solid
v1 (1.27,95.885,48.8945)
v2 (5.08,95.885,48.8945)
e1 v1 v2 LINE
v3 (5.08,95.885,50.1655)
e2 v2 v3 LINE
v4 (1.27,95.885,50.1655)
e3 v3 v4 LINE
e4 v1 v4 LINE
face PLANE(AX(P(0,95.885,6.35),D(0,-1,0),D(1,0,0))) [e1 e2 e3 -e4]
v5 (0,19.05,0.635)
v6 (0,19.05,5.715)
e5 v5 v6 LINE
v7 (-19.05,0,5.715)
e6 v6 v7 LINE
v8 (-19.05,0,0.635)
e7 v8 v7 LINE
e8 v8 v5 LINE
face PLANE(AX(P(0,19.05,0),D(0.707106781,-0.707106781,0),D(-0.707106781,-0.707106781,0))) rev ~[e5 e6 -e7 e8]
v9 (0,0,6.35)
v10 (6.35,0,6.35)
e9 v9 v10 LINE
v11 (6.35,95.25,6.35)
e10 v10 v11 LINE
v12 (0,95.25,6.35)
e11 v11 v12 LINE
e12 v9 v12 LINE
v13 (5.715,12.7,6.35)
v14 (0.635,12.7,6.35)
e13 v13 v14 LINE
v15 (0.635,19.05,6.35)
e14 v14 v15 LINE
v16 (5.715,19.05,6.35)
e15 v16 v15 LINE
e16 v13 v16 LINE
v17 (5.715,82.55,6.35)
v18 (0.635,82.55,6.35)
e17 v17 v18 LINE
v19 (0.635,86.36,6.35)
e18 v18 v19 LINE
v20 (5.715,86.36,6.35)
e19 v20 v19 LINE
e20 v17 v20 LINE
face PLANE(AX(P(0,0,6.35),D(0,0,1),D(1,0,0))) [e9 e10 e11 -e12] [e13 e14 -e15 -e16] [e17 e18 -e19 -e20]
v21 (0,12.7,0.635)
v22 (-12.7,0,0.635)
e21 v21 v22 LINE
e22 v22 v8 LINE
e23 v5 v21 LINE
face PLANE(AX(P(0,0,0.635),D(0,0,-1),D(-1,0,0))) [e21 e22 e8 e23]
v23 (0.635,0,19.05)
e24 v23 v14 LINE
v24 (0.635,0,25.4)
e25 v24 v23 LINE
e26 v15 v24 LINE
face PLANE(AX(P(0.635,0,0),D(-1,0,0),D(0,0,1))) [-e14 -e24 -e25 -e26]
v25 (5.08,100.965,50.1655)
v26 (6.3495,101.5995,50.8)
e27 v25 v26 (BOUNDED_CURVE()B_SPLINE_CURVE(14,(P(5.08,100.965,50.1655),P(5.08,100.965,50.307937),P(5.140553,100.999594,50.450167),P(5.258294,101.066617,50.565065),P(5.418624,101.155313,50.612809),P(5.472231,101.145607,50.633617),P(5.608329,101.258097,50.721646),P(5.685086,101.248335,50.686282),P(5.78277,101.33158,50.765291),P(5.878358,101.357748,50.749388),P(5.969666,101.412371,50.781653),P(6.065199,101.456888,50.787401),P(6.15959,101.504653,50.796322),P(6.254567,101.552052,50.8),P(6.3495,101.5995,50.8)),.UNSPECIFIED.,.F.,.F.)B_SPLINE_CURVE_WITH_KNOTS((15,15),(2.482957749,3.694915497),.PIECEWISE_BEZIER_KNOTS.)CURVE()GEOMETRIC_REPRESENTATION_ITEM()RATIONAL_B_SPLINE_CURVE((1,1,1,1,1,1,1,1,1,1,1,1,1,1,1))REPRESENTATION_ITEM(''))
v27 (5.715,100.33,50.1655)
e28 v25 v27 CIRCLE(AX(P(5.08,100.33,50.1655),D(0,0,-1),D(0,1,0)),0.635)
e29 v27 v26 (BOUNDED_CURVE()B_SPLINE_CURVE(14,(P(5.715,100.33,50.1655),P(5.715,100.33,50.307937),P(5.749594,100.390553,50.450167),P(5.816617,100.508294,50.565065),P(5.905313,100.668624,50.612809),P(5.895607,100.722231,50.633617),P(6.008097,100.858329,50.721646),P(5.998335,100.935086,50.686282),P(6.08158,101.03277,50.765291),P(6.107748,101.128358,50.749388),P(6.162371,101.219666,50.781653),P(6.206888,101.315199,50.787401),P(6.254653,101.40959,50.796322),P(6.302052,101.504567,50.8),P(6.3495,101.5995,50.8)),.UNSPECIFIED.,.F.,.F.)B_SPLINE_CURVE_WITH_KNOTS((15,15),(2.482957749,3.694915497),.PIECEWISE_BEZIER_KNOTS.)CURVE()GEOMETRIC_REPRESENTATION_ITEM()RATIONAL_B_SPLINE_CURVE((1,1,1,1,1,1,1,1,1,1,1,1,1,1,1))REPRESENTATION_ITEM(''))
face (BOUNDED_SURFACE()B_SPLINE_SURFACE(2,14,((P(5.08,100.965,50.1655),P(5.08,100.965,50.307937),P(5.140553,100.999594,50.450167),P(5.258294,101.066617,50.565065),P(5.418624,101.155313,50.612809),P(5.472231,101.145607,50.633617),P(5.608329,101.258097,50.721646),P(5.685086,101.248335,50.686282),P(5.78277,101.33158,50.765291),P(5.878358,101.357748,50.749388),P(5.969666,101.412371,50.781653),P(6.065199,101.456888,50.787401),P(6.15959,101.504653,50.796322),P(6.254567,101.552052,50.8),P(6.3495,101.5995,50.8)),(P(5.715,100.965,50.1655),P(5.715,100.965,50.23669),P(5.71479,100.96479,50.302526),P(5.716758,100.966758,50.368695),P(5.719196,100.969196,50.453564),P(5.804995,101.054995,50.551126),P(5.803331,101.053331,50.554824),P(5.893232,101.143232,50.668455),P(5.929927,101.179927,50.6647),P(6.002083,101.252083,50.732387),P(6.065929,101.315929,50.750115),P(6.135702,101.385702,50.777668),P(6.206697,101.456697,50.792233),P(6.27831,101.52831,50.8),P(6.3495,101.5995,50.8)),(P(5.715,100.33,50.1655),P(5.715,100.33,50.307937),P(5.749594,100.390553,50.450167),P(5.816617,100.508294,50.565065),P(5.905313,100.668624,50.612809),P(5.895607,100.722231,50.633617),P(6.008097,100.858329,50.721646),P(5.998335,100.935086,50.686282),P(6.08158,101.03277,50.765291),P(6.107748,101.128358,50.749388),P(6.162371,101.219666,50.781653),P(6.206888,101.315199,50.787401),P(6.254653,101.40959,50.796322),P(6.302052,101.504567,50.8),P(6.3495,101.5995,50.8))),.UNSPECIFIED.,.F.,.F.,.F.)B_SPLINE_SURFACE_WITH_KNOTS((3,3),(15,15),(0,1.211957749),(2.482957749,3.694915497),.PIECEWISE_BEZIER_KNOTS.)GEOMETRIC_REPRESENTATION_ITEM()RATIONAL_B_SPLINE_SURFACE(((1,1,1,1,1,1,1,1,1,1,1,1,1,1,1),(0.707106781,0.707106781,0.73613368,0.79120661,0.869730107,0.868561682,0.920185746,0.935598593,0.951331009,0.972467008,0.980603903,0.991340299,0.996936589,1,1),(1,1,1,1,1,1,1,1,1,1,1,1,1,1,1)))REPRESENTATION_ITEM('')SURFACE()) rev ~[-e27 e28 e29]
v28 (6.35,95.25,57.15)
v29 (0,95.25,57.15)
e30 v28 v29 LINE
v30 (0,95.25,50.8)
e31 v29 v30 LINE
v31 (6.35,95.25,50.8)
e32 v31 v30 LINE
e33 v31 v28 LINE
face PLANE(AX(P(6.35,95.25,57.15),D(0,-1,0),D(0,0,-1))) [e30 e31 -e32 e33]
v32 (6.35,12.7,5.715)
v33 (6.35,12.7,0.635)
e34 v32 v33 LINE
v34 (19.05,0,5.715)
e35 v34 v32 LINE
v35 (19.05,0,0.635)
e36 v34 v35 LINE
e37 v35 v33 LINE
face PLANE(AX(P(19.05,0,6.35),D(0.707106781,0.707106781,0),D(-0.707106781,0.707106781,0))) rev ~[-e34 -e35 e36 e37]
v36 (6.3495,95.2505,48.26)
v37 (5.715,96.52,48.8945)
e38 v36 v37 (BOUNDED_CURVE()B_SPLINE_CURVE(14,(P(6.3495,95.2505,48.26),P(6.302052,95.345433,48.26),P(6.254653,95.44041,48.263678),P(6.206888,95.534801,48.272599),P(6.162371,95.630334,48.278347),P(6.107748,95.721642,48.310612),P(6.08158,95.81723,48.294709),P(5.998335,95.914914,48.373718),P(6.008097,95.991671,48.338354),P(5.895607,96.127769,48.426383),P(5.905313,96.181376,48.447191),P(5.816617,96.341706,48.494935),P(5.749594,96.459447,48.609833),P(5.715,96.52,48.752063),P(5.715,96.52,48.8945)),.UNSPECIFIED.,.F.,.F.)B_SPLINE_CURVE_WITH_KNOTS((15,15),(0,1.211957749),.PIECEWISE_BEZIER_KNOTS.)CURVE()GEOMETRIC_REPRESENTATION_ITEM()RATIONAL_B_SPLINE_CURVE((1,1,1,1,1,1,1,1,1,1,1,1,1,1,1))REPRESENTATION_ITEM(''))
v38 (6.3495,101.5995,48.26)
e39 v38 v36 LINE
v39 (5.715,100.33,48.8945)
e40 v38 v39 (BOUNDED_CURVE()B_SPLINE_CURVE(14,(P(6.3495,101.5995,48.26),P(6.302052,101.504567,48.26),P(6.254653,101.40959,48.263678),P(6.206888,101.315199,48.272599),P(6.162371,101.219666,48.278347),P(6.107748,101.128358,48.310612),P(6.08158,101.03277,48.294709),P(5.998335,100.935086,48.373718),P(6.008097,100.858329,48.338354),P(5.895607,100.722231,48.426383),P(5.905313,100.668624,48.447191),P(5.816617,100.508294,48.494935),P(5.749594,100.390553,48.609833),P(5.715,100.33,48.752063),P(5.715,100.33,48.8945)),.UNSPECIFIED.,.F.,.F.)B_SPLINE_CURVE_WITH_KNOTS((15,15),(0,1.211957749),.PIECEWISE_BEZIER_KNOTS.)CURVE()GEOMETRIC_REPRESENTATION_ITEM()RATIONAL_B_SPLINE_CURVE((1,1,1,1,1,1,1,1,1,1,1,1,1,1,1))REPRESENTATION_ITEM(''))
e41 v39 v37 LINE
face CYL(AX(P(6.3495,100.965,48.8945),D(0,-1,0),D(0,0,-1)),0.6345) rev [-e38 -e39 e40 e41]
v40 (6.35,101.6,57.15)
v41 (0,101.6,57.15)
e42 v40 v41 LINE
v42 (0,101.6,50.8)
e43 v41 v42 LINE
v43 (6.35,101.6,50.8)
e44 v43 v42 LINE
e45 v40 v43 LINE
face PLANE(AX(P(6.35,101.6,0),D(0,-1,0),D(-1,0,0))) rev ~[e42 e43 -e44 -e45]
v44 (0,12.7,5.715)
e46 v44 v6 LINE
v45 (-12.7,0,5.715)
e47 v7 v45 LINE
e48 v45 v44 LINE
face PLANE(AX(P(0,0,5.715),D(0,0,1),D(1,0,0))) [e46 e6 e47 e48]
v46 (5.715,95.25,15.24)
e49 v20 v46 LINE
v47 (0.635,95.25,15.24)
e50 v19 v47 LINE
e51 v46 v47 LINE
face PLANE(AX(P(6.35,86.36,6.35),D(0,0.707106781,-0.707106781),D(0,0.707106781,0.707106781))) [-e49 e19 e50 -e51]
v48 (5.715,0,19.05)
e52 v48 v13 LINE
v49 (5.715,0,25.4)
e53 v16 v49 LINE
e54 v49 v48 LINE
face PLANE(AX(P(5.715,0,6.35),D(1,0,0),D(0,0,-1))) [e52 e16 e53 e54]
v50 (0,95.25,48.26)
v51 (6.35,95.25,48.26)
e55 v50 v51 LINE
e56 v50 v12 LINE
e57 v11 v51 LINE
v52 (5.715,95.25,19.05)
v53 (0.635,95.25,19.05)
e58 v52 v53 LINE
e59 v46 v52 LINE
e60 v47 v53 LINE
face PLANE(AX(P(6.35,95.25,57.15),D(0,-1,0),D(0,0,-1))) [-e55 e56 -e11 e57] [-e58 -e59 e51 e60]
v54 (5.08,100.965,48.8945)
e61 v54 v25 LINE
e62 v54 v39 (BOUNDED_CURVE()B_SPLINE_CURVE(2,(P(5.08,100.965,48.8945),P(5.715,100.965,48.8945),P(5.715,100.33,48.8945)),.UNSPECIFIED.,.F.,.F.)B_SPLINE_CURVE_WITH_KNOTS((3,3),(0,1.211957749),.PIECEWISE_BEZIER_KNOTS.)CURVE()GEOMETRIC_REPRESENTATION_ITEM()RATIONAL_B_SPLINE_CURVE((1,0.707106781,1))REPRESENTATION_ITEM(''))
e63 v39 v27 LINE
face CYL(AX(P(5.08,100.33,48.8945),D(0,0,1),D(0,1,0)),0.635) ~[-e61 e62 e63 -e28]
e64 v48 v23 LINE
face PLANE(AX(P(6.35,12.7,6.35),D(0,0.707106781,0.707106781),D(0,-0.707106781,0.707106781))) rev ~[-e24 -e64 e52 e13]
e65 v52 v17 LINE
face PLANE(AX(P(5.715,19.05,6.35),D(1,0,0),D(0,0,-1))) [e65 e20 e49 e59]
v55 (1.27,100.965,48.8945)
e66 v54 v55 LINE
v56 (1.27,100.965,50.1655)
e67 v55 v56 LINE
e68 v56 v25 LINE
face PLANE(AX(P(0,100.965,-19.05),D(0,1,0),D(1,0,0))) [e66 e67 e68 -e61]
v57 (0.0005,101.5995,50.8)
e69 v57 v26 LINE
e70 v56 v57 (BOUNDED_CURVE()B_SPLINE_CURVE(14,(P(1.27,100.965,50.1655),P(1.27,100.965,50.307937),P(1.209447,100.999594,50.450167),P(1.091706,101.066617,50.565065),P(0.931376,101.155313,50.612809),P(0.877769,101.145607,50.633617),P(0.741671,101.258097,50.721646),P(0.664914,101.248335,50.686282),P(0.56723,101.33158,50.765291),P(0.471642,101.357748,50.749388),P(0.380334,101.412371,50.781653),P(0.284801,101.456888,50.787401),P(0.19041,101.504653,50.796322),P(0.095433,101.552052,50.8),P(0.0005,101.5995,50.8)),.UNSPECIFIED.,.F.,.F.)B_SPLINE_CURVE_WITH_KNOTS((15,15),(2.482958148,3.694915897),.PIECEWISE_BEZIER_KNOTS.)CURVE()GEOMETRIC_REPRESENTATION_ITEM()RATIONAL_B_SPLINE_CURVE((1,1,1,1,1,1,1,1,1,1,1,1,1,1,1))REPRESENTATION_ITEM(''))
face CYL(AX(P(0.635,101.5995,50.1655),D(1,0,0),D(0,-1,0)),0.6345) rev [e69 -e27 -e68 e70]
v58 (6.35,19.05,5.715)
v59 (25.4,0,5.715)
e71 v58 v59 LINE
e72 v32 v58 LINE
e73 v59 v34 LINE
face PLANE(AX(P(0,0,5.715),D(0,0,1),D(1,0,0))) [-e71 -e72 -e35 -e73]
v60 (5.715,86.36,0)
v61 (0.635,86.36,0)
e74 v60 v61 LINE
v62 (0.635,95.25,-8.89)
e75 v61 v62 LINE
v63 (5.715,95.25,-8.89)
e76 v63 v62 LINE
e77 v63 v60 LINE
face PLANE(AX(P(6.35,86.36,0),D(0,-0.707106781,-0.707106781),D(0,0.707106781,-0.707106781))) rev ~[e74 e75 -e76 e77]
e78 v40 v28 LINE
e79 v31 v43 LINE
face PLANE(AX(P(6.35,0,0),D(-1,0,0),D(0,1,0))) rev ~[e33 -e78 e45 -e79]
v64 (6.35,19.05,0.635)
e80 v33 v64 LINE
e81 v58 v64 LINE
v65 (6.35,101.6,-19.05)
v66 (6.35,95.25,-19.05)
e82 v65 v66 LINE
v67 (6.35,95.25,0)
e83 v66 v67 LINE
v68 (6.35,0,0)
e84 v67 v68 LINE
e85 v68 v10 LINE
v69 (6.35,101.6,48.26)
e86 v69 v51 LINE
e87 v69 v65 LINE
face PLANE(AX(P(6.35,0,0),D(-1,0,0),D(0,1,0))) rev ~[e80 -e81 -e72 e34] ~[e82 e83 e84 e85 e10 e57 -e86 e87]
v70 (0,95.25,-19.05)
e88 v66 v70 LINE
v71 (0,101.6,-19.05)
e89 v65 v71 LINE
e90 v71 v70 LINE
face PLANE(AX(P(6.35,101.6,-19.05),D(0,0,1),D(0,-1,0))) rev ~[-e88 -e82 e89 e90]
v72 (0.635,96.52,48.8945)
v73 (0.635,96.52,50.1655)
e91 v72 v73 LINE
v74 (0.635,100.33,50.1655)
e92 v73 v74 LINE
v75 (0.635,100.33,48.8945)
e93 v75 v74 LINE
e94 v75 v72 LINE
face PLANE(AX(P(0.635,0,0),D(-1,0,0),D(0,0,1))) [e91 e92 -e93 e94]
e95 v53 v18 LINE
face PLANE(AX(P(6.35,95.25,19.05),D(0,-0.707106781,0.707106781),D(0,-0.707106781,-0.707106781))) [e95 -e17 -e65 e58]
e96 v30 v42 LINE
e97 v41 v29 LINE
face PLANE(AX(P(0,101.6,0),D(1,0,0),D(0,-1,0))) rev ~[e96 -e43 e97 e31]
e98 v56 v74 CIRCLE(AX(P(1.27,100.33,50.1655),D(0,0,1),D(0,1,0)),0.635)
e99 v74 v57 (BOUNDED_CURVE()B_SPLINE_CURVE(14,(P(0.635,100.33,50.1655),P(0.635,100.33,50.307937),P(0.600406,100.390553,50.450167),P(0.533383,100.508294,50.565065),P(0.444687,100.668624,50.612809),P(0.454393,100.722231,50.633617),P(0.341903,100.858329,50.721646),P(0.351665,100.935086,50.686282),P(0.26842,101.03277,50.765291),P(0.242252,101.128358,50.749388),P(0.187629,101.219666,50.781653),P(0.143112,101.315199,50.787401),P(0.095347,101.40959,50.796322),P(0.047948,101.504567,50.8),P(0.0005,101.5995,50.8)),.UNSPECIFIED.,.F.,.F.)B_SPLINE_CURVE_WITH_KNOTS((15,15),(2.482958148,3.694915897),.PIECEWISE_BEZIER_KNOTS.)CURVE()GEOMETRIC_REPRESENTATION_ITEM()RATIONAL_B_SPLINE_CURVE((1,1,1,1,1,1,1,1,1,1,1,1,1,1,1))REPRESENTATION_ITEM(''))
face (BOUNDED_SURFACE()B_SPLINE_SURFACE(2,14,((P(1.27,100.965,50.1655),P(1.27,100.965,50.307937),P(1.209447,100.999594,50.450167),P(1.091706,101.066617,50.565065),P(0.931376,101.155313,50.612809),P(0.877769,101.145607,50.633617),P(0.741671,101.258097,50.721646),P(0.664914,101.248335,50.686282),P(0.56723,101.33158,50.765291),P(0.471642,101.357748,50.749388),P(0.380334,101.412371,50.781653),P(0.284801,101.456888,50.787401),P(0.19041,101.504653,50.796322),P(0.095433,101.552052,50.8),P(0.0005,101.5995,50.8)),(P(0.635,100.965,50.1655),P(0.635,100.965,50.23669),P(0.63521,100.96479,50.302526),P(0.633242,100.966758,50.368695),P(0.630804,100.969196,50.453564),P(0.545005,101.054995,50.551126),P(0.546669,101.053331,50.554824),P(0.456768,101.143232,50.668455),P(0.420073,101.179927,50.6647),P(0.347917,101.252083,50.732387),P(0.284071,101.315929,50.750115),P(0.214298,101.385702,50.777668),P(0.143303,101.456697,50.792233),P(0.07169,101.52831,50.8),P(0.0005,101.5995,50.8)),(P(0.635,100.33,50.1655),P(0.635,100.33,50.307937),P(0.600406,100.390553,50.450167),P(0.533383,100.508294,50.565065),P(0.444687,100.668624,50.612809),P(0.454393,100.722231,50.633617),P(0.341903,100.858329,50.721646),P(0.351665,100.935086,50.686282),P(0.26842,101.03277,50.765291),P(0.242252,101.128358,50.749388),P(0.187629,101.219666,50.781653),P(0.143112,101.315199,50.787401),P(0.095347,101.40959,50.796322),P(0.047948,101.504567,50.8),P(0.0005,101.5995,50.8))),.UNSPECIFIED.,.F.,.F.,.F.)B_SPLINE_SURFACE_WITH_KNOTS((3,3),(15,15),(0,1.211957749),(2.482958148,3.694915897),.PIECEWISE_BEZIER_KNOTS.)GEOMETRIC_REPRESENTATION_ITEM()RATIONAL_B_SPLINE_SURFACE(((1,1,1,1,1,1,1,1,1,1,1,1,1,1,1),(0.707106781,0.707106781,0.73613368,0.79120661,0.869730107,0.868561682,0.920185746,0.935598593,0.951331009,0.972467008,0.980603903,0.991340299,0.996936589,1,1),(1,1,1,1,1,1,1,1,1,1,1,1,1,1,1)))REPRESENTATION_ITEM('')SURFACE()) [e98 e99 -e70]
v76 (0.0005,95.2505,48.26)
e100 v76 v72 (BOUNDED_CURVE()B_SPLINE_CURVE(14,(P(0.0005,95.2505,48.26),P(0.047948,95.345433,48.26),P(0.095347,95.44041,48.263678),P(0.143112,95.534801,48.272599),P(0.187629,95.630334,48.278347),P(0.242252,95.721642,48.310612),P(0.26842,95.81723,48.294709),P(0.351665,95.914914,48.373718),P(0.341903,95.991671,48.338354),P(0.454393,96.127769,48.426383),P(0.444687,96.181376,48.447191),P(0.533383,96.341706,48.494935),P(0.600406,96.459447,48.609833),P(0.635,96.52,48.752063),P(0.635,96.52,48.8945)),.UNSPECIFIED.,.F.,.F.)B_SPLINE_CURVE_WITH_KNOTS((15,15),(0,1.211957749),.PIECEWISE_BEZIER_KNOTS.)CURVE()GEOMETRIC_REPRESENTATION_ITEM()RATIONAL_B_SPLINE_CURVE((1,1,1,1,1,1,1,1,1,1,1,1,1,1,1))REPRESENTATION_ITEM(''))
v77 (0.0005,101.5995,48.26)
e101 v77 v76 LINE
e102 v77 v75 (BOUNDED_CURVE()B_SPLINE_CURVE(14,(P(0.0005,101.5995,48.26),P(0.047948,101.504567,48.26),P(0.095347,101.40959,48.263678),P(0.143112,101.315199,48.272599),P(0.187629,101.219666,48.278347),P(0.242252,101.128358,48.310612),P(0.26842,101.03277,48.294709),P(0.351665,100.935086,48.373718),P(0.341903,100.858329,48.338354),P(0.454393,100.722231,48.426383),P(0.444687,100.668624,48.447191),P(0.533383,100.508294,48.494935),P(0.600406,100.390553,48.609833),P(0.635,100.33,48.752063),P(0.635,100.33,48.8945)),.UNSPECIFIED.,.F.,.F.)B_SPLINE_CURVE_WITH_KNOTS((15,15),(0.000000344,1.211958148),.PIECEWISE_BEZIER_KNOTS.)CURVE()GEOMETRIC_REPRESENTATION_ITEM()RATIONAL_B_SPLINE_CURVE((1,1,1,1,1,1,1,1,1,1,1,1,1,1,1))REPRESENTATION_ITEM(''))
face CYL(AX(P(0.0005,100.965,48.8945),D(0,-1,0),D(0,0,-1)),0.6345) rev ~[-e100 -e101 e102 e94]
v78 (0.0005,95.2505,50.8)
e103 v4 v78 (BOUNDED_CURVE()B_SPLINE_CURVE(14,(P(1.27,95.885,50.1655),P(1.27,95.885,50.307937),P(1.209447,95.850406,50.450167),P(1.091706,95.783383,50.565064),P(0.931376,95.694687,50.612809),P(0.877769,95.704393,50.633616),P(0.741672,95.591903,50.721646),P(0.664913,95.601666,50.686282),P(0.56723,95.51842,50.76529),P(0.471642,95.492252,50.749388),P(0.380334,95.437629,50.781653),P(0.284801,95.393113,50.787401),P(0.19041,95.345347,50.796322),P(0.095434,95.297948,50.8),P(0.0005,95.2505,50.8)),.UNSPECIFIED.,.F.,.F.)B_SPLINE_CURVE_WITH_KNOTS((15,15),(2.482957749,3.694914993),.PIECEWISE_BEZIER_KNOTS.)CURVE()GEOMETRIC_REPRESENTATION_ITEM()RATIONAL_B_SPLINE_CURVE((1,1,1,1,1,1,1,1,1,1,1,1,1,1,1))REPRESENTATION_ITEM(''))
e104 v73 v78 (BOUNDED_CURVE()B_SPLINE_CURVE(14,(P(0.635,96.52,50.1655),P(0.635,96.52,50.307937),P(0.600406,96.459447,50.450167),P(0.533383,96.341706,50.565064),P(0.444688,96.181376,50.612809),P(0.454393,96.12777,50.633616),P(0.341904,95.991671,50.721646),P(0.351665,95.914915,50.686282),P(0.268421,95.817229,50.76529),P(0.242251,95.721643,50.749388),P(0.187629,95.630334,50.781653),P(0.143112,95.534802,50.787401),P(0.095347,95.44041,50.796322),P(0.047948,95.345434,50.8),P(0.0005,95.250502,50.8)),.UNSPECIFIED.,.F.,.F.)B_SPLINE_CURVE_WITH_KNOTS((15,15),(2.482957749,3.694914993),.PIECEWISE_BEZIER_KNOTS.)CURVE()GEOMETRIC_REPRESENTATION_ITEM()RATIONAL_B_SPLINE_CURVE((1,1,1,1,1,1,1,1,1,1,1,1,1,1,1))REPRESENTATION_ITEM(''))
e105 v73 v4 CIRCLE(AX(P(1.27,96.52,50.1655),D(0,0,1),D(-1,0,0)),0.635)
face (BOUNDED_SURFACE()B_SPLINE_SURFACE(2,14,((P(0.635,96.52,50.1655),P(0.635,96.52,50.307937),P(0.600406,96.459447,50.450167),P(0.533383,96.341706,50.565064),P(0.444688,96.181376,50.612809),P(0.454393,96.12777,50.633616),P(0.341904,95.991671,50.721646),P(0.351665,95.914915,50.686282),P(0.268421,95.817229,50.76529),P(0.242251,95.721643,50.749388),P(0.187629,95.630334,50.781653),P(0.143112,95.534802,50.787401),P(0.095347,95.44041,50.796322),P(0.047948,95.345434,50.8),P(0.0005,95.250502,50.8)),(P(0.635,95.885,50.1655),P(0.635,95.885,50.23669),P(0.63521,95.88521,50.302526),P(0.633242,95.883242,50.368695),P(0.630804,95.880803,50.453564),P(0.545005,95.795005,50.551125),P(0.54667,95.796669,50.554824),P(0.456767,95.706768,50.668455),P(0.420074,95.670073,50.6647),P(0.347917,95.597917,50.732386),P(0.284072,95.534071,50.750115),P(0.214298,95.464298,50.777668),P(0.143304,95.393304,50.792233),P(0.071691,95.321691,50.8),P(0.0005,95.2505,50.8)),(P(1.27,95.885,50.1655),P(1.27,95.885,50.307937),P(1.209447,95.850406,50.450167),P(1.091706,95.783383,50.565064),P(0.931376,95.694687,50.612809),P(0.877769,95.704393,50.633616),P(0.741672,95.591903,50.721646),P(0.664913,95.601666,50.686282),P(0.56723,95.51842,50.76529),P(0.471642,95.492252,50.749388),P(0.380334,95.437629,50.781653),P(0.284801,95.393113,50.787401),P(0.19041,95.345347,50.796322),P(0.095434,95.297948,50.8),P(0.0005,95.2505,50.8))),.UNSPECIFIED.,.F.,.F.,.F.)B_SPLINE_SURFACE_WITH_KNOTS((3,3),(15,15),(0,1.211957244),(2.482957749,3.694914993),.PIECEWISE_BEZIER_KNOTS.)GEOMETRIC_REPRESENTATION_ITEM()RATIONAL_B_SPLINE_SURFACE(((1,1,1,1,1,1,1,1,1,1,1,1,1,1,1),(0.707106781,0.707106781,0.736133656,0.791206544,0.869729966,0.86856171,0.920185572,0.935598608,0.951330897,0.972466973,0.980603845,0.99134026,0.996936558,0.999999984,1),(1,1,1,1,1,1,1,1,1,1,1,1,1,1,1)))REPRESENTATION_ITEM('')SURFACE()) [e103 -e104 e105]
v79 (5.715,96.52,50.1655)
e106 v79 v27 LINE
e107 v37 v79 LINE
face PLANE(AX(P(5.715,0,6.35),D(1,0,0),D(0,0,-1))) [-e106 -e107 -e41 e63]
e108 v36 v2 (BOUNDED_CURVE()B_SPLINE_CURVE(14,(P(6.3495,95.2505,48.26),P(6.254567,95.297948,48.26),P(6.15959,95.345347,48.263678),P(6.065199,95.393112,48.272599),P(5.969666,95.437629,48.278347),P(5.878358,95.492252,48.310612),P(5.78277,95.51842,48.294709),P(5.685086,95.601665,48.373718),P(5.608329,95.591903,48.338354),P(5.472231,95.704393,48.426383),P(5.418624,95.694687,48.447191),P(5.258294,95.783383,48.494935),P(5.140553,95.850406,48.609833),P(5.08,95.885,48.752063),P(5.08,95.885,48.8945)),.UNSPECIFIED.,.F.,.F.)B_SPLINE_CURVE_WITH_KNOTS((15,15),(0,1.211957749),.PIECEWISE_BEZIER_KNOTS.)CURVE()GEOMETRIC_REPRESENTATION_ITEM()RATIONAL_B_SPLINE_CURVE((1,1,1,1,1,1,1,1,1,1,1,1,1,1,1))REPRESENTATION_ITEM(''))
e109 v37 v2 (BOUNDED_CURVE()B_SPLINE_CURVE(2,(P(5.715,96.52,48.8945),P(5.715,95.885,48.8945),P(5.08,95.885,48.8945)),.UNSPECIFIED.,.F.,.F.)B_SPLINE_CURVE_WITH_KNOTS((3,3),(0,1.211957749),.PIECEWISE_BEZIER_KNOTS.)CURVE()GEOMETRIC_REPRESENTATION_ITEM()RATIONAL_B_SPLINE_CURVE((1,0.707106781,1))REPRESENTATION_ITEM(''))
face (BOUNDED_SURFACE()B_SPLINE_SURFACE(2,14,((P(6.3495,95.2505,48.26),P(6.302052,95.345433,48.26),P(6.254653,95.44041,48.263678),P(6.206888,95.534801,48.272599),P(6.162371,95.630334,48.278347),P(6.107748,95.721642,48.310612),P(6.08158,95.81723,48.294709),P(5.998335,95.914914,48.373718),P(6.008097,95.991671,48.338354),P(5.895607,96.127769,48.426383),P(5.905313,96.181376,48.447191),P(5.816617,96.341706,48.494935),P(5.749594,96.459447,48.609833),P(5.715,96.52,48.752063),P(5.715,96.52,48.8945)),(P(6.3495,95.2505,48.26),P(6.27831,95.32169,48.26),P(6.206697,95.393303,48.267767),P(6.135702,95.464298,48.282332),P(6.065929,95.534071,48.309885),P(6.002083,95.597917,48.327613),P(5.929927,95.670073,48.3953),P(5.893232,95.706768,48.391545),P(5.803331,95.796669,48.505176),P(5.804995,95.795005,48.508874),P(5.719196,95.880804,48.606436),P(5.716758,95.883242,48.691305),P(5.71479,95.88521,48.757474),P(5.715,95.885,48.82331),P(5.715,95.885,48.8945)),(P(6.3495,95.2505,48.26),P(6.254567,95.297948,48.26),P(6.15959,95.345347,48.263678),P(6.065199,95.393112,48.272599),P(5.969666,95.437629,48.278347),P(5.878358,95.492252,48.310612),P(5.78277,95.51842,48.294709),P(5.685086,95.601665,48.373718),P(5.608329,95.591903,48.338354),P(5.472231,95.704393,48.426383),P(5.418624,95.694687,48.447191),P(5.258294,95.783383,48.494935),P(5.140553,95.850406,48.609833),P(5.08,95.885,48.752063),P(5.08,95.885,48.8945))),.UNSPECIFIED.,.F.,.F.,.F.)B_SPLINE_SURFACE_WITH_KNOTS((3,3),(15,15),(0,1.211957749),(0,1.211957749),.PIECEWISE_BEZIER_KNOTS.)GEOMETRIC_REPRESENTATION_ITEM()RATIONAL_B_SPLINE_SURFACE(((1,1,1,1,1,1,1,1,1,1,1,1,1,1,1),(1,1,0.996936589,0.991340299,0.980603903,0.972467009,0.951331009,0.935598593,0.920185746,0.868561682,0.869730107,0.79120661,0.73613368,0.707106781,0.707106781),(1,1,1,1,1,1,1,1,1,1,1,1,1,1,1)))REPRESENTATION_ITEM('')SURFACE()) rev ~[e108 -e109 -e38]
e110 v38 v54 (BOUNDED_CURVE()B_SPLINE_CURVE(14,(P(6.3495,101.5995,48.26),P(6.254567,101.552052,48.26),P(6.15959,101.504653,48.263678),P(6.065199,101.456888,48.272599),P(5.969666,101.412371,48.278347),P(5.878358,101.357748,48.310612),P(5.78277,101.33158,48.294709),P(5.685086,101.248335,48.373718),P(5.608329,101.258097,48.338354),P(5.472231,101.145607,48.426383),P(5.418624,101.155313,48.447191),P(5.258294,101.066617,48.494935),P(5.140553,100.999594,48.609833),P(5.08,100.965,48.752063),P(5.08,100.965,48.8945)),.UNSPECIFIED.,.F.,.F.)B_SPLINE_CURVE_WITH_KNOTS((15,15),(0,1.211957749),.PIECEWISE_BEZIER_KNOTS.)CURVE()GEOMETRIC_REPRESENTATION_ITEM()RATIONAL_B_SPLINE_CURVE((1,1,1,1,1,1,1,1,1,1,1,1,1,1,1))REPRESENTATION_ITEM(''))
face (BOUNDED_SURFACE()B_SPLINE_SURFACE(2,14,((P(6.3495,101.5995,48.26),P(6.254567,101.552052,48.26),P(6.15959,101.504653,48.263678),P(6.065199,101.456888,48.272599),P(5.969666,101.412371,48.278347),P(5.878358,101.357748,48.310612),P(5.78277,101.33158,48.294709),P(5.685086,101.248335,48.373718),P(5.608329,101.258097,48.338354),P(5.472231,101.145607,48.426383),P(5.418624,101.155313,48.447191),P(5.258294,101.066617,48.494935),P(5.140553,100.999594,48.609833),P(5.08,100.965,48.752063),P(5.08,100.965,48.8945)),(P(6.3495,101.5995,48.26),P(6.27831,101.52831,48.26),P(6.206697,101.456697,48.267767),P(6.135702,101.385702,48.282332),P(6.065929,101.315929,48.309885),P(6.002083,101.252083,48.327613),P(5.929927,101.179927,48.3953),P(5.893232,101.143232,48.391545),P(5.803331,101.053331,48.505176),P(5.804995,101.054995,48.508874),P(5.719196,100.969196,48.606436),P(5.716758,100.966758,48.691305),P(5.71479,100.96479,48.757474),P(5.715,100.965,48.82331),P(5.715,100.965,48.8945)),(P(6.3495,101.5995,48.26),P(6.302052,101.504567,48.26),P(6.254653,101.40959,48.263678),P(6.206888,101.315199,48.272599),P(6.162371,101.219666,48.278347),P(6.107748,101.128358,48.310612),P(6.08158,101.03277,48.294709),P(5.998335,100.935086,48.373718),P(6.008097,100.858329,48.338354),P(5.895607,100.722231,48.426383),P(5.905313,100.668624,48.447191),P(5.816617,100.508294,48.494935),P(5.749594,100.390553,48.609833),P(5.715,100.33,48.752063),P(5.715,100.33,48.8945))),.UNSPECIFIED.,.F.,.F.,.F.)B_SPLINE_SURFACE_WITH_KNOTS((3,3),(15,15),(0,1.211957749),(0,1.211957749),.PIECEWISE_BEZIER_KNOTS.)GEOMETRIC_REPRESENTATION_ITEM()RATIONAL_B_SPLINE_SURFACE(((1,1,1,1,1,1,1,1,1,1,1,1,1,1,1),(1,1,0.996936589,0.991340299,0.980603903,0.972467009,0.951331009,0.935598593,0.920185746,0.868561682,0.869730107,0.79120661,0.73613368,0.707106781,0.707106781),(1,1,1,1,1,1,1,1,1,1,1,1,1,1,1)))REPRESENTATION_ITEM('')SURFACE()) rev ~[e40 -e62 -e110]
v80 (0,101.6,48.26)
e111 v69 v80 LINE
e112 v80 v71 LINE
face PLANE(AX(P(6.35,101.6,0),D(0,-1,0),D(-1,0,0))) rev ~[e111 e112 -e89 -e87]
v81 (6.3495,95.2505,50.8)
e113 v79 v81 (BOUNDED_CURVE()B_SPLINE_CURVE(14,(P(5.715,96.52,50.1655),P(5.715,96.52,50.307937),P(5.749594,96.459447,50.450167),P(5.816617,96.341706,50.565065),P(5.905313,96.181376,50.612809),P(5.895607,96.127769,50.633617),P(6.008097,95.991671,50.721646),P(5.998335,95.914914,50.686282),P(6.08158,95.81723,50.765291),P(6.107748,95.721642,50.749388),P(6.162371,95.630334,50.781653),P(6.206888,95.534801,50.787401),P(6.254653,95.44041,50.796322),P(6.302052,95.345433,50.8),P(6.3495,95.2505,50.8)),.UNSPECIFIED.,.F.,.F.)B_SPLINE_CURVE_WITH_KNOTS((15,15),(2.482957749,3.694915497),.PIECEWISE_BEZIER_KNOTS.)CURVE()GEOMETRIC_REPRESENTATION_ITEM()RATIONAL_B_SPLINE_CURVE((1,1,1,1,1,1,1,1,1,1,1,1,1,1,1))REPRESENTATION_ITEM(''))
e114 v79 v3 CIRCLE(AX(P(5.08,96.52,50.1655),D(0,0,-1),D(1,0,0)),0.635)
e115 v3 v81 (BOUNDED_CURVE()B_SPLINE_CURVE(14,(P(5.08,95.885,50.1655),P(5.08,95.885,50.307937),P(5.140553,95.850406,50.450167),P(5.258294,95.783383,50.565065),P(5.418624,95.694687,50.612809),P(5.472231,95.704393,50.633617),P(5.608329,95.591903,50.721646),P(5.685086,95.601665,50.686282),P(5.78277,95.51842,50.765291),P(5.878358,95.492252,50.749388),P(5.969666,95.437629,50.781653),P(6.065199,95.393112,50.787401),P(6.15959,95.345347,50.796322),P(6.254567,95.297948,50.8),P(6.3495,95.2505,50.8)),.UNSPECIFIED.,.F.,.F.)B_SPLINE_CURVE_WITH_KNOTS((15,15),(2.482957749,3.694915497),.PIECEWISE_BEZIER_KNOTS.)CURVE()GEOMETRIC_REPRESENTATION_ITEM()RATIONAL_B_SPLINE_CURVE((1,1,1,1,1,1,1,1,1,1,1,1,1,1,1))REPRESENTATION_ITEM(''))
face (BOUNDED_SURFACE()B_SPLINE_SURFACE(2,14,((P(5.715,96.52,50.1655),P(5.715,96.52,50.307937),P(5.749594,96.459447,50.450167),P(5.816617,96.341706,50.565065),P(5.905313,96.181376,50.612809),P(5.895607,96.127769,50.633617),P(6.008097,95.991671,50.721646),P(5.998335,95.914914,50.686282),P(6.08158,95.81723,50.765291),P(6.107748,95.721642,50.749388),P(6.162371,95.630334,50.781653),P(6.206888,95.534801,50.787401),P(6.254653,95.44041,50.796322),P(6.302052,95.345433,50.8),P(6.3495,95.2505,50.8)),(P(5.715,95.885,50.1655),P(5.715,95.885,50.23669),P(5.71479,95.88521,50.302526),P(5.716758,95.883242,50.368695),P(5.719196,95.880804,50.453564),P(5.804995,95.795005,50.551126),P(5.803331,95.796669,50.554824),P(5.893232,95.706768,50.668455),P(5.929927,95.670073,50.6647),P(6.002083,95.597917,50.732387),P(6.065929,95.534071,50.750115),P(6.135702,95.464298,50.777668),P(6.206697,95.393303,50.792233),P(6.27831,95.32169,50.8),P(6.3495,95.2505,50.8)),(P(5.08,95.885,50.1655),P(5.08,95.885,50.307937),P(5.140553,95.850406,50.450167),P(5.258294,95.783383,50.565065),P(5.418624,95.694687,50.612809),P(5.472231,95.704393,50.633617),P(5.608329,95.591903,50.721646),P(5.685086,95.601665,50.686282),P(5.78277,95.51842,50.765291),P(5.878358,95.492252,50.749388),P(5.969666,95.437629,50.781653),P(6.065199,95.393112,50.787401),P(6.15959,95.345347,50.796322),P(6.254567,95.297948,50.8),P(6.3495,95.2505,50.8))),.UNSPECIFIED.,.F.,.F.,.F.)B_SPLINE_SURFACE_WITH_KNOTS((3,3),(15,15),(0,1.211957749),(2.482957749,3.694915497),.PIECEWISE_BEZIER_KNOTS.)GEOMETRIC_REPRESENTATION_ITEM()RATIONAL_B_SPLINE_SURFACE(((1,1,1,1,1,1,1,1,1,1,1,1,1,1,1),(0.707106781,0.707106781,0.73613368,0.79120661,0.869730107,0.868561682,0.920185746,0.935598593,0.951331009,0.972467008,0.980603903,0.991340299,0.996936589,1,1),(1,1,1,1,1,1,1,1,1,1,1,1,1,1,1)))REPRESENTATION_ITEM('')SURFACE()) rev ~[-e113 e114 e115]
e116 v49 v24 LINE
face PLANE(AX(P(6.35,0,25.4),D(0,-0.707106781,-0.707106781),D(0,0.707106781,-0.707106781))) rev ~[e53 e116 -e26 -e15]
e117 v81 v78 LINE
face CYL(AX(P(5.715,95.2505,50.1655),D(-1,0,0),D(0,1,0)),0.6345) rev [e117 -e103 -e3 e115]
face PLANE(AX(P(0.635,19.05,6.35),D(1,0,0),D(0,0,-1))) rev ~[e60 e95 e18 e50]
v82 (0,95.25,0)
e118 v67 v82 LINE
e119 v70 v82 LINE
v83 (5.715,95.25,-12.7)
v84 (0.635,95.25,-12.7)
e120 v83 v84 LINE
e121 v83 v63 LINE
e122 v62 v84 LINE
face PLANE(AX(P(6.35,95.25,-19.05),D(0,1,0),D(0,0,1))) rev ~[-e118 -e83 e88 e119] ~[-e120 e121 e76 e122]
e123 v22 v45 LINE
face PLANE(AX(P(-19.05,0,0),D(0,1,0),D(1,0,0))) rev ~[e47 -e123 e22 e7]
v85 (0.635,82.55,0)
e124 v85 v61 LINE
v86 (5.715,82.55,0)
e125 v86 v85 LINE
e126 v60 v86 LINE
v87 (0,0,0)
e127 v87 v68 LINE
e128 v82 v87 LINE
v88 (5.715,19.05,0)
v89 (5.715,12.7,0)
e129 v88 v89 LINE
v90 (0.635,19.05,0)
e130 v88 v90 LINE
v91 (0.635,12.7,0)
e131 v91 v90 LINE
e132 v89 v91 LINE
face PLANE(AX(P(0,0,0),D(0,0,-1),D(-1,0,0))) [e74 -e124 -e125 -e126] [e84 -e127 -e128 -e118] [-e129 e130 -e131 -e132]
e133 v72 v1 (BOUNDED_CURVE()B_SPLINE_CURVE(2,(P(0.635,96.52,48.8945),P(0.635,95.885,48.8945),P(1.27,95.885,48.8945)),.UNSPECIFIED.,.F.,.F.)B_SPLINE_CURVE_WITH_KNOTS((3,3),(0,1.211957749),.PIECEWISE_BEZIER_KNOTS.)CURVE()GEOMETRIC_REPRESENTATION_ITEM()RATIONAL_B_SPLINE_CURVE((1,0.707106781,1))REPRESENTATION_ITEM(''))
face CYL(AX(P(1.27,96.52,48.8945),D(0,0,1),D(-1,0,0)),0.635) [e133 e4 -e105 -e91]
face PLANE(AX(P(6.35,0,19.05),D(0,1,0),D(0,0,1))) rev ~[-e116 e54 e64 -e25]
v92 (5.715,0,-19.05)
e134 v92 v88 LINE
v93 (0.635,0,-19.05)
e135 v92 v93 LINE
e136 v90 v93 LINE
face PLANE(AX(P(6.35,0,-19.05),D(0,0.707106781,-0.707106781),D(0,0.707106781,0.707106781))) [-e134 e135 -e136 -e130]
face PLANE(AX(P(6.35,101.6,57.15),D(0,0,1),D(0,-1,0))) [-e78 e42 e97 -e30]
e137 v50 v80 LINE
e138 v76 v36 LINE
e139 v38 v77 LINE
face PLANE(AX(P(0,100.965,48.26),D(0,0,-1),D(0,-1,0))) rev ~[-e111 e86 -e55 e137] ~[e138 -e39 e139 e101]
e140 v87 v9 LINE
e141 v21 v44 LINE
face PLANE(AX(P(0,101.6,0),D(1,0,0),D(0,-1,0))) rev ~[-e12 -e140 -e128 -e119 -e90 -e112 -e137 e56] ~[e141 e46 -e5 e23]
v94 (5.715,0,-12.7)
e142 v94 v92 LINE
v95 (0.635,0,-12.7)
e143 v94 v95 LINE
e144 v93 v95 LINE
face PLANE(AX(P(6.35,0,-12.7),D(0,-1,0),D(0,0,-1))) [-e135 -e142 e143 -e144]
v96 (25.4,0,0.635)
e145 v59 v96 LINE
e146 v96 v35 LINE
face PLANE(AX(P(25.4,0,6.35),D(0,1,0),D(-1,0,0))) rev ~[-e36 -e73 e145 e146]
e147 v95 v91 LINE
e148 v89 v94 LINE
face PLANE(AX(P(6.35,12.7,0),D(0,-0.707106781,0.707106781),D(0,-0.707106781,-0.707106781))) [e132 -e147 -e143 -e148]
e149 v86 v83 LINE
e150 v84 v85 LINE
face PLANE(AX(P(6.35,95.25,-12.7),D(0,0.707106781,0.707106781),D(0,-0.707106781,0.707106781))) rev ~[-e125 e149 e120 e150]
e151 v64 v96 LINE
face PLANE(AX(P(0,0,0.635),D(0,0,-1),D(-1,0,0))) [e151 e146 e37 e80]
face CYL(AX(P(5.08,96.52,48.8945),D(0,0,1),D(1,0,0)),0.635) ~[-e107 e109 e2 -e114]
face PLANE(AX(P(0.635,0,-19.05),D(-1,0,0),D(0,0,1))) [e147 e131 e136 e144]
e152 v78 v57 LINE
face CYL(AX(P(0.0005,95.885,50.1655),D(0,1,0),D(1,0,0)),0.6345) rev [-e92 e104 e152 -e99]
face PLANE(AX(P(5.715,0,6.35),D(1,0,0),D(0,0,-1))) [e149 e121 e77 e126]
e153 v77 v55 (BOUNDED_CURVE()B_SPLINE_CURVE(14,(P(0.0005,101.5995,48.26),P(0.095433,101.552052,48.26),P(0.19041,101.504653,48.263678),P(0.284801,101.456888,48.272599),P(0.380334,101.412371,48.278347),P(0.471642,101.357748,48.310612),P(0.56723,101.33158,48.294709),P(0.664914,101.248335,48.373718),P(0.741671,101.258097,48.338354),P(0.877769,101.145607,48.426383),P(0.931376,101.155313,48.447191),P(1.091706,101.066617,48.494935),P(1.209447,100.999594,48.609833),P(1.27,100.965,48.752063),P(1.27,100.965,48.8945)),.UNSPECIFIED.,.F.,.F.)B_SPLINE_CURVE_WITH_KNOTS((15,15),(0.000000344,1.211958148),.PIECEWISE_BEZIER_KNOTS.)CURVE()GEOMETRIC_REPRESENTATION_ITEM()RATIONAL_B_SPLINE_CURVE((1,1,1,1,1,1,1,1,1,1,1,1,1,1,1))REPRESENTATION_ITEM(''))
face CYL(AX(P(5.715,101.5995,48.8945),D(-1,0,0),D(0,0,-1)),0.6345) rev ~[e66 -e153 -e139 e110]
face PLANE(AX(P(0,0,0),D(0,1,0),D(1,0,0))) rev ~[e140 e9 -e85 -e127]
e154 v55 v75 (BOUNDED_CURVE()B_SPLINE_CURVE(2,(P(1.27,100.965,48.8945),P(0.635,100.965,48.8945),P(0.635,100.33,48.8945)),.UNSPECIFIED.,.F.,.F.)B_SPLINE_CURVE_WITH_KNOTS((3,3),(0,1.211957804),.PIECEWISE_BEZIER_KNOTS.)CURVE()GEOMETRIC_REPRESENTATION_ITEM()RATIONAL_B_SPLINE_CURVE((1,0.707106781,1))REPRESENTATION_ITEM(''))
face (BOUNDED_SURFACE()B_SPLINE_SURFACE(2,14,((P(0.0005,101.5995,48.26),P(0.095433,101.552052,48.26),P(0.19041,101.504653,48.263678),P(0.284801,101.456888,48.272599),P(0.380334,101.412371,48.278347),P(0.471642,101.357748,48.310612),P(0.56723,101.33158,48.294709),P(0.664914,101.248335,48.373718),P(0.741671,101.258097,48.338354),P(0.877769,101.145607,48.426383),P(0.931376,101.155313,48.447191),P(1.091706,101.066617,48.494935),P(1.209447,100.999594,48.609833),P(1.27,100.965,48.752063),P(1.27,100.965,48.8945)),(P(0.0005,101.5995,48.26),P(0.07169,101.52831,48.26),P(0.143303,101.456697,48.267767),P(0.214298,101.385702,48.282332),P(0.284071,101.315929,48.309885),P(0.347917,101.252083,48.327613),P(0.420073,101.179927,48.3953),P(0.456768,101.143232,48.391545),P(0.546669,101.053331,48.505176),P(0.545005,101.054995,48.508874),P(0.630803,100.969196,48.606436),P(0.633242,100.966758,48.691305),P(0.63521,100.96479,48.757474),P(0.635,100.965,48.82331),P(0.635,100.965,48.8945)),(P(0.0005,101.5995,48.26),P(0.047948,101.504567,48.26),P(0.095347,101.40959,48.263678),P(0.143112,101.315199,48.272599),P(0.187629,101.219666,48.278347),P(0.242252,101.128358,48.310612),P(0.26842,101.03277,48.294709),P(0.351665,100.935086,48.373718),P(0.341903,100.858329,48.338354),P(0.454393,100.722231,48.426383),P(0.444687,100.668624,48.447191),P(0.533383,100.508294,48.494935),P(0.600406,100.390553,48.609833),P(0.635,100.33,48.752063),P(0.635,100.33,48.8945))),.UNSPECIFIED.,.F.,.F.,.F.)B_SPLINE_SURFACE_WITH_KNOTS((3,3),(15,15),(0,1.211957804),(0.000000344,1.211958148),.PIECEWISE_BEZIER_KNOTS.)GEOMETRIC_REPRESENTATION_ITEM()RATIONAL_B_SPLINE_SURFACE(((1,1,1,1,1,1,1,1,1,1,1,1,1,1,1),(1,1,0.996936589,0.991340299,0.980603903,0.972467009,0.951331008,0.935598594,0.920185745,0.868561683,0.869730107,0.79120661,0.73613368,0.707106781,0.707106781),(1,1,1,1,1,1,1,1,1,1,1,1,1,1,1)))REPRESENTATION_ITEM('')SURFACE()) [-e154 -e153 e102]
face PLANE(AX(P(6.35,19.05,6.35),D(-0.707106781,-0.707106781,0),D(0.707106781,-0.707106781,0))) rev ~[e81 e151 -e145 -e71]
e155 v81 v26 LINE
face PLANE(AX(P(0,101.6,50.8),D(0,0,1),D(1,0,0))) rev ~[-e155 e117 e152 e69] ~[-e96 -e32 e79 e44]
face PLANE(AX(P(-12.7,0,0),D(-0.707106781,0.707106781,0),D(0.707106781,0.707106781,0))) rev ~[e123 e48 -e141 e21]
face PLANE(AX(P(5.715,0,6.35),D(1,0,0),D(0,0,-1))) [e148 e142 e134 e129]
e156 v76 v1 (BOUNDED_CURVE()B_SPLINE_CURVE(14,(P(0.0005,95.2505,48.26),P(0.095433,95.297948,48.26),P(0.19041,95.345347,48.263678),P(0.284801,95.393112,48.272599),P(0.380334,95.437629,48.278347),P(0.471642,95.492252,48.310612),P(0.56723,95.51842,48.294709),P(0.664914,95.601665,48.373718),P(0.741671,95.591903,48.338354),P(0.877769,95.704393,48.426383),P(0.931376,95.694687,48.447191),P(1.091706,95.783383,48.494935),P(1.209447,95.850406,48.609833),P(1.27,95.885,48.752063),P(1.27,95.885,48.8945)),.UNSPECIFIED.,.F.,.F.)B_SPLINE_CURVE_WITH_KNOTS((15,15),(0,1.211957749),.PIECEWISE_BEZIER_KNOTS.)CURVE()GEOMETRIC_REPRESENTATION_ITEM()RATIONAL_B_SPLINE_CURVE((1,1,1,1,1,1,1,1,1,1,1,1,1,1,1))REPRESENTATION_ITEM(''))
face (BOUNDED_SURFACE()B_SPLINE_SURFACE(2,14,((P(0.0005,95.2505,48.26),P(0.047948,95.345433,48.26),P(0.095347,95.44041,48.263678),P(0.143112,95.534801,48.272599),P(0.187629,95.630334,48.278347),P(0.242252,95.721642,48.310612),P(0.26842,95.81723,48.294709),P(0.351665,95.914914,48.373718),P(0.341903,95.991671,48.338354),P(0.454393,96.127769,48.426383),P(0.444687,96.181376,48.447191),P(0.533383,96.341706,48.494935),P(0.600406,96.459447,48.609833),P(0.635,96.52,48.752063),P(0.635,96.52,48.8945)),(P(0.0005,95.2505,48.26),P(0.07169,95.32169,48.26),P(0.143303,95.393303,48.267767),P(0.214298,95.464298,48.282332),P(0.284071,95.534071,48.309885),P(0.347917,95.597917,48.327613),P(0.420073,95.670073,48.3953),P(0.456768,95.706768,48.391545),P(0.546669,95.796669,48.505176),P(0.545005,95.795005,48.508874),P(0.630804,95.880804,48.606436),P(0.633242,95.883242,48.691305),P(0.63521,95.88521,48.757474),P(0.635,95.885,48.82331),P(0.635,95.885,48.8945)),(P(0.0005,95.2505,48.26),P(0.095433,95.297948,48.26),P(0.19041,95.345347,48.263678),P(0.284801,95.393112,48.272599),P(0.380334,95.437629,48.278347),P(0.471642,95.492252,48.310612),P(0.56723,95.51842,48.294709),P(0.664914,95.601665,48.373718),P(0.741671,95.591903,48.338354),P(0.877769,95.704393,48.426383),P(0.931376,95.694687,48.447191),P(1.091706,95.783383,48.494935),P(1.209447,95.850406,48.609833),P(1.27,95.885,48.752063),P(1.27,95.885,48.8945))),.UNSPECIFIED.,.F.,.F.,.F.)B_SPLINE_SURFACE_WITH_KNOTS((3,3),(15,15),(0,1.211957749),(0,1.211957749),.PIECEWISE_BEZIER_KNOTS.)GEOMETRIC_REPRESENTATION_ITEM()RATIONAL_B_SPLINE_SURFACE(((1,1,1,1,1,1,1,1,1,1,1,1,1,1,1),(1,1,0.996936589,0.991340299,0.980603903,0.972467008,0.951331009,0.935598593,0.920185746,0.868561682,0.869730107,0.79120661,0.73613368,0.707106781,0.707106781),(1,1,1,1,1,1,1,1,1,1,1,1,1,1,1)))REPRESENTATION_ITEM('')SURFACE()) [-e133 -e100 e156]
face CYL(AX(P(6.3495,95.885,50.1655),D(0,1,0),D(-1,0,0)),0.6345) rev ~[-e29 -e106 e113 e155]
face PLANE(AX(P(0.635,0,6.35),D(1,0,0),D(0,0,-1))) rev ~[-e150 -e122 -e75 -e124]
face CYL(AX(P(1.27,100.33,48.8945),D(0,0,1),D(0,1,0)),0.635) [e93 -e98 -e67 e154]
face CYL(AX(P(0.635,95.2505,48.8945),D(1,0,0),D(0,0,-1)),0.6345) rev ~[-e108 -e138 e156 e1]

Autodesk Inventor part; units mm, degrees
ref_plane "YZ Plane" through (0, 0, 0) normal (1, 0, 0) x (0, 1, 0)
ref_plane "XZ Plane" through (0, 0, 0) normal (0, 1, 0) x (-1, 0, 0)
ref_plane "XY Plane" through (0, 0, 0) normal (0, 0, 1) x (1, 0, 0)
sketch "Sketch1" plane through (0, 0, 0) normal (0, 0, 1) x (1, 0, 0)
  line L0 (0, 0) -> (6.35, 0)
  line L1 (6.35, 0) -> (6.35, 101.6)
  line L2 (6.35, 101.6) -> (0, 101.6)
  line L3 (0, 101.6) -> (0, 0)
  dimension "d0" = 6.35
  dimension "d1" = 101.6
extrude "Extrusion1" add sketch "Sketch1" along normal blind 6.35
sketch "Sketch2" plane through (6.35, 0, 0) normal (1, 0, 0) x (0, 0, -1)
  line L0 (-19.05, 0) -> (-25.4, 0)
  line L1 (-25.4, 0) -> (-6.35, 19.05)
  line L2 (-6.35, 0) -> (-6.35, 101.6) projected
  line L3 (-25.4, 0) -> (1.5408, 0) construction
  line L4 (-6.35, 19.05) -> (-6.35, 12.7)
  line L5 (-6.35, 12.7) -> (-19.05, 0)
  point P0 (0, 0)
  dimension "d5" = 19.05
  dimension "d6" = 45
  dimension "d7" = 6.35
extrude "Extrusion2" add sketch "Sketch2" against normal blind 6.35
sketch "Sketch3" plane through (6.35, 0, 0) normal (1, 0, 0) x (0, 0, -1)
  line L0 (12.7, 0) -> (19.05, 0)
  line L1 (19.05, 0) -> (0, 19.05)
  line L2 (0, 101.6) -> (0, 0) projected
  line L3 (0, 19.05) -> (0, 12.7)
  line L4 (0, 12.7) -> (12.7, 0)
  dimension "d10" = 19.05
  dimension "d11" = 45
  dimension "d12" = 6.35
extrude "Extrusion3" add sketch "Sketch3" against normal blind 6.35
sketch "Sketch4" plane through (0, 0, 6.35) normal (0, 0, 1) x (1, 0, 0)
  line L0 (6.35, 19.05) -> (25.4, 0)
  line L1 (6.35, 19.05) -> (33.2908, 19.05) construction
  line L2 (25.4, 0) -> (19.05, 0)
  line L3 (0, 0) -> (6.35, 0) projected
  line L4 (19.05, 0) -> (6.35, 12.7)
  line L5 (6.35, 12.7) -> (6.35, 19.05)
  line L6 (6.35, 0) -> (6.35, 12.7) projected
  dimension "d15" = 45
  dimension "d16" = 6.35
extrude "Extrusion4" add sketch "Sketch4" against normal blind 6.35
sketch "Sketch5" plane through (0, 0, 0) normal (0, 0, -1) x (-1, 0, 0)
  line L0 (0, 19.05) -> (19.05, 0)
  line L1 (0, 19.05) -> (26.9408, 19.05) construction
  line L2 (19.05, 0) -> (12.7, 0)
  line L3 (0, 19.05) -> (0, 0) projected
  line L4 (12.7, 0) -> (0, 12.7)
  line L5 (0, 12.7) -> (0, 19.05)
  dimension "d19" = 45
  dimension "d20" = 6.35
extrude "Extrusion5" add sketch "Sketch5" against normal blind 6.35
sketch "Sketch6" plane through (6.35, 101.6, 6.35) normal (1, 0, 0) x (0, 0, -1)
  line L0 (0, 0) -> (-50.8, 0)
  line L1 (-50.8, 0) -> (-50.8, -6.35)
  line L2 (-50.8, -6.35) -> (0, -6.35)
  line L3 (0, -6.35) -> (0, 0)
  line L4 (6.35, 0) -> (25.4, 0)
  line L5 (25.4, 0) -> (25.4, -6.35)
  line L6 (25.4, -6.35) -> (6.35, -6.35)
  line L7 (6.35, -6.35) -> (6.35, 0)
  point P0 (6.35, -101.6)
  dimension "d23" = 50.8
  dimension "d24" = 6.35
  dimension "d25" = 19.05
extrude "Extrusion6" add sketch "Sketch6" against normal blind 6.35
sketch "Sketch7" plane through (6.35, 19.05, 6.35) normal (1, 0, 0) x (0, 0, -1)
  line L0 (-8.89, 76.2) -> (-12.7, 76.2)
  line L1 (-50.8, 76.2) -> (0, 76.2) projected
  line L2 (-12.7, 76.2) -> (0, 63.5)
  line L3 (0, 0) -> (0, 76.2) projected
  line L4 (0, 63.5) -> (0, 67.31)
  line L5 (0, 67.31) -> (-8.89, 76.2)
  point P0 (6.35, -19.05)
  dimension "d28" = 12.7
  dimension "d29" = 45
  dimension "d30" = 3.81
extrude "Extrusion7" add sketch "Sketch7" against normal blind 5.715 contours L5 L3 L2 L0
extrude "Extrusion8" cut sketch "Sketch7" against normal blind 0.635 contours L5 L3 L2 L0
sketch "Sketch9" plane through (0, 0, 6.35) normal (0, 0, 1) x (1, 0, 0)
  point P0 (0, 0)
extrude "Extrusion9" cut sketch "Sketch4" against normal blind 0.635
sketch "Sketch10" plane through (0, 0, 0) normal (0, 0, -1) x (-1, 0, 0)
  line L0 (-25.4, 0) -> (-19.05, 0)
  line L1 (-25.4, 0) -> (-19.05, 0) projected
  line L2 (-19.05, 0) -> (-6.35, 12.7)
  line L3 (-19.05, 0) -> (-6.35, 12.7) projected
  line L4 (-6.35, 12.7) -> (-6.35, 19.05)
  line L5 (-6.35, 0) -> (-6.35, 19.05) projected
  line L6 (-6.35, 19.05) -> (-25.4, 0)
  line L7 (-6.35, 19.05) -> (-25.4, 0) projected
  point P0 (0, 0)
extrude "Extrusion10" cut sketch "Sketch10" against normal blind 0.635
sketch "Sketch11" plane through (6.35, 0, 6.35) normal (1, 0, 0) x (0, 0, -1)
  line L0 (6.35, 19.05) -> (6.35, 12.7)
  line L1 (6.35, 0) -> (6.35, 12.7) projected
  line L2 (6.35, 12.7) -> (19.05, 0)
  line L3 (6.35, 12.7) -> (19.05, 0) projected
  line L4 (19.05, 0) -> (25.4, 0)
  line L5 (19.05, 0) -> (25.4, 0) projected
  line L6 (25.4, 0) -> (6.35, 19.05)
  line L7 (25.4, 0) -> (6.35, 19.05) projected
extrude "Extrusion11" cut sketch "Sketch11" against normal blind 0.635
sketch "Sketch12" plane through (0, 0, -19.05) normal (-1, 0, 0) x (0, 0, 1)
  line L0 (0, 0) -> (6.35, 0)
  line L1 (0, 0) -> (6.35, 0) projected
  line L2 (6.35, 0) -> (19.05, 12.7)
  line L3 (6.35, 0) -> (19.05, 12.7) projected
  line L4 (19.05, 12.7) -> (19.05, 19.05)
  line L5 (19.05, 95.25) -> (19.05, 19.05) projected
  line L6 (19.05, 19.05) -> (0, 0)
  line L7 (19.05, 19.05) -> (0, 0) projected
  point P0 (19.05, 0)
extrude "Extrusion12" cut sketch "Sketch12" against normal blind 0.635
sketch "Sketch13" plane through (0, 0, 0) normal (0, 0, -1) x (-1, 0, 0)
  line L0 (0, 19.05) -> (0, 12.7)
  line L1 (0, 12.7) -> (12.7, 0)
  line L2 (0, 12.7) -> (12.7, 0) projected
  line L3 (12.7, 0) -> (19.05, 0)
  line L4 (19.05, 0) -> (0, 19.05)
  line L5 (19.05, 0) -> (0, 19.05) projected
  point P0 (0, 0)
extrude "Extrusion13" cut sketch "Sketch13" against normal blind 0.635
sketch "Sketch14" plane through (0, 0, 6.35) normal (0, 0, 1) x (1, 0, 0)
  line L0 (-19.05, 0) -> (-12.7, 0)
  line L1 (-19.05, 0) -> (-12.7, 0) projected
  line L2 (-12.7, 0) -> (0, 12.7)
  line L3 (-12.7, 0) -> (0, 12.7) projected
  line L4 (0, 12.7) -> (0, 19.05)
  line L5 (0, 12.7) -> (0, 19.05) projected
  line L6 (0, 19.05) -> (-19.05, 0)
  line L7 (0, 19.05) -> (-19.05, 0) projected
  point P0 (0, 0)
extrude "Extrusion14" cut sketch "Sketch14" against normal blind 0.635
sketch "Sketch15" plane through (0, 0, 0) normal (-1, 0, 0) x (0, 0, 1)
  line L0 (6.35, 19.05) -> (25.4, 0)
  line L1 (6.35, 19.05) -> (25.4, 0) projected
  line L2 (25.4, 0) -> (19.05, 0)
  line L3 (25.4, 0) -> (19.05, 0) projected
  line L4 (19.05, 0) -> (6.35, 12.7)
  line L5 (6.35, 12.7) -> (6.35, 19.05)
  point P0 (0, 0)
extrude "Extrusion15" cut sketch "Sketch15" against normal blind 0.635
sketch "Sketch16" plane through (6.35, 0, 6.35) normal (1, 0, 0) x (0, 0, -1)
  line L0 (-19.05, 0) -> (-12.7, 0)
  line L1 (-19.05, 0) -> (-12.7, 0) projected
  line L2 (-12.7, 0) -> (0, 12.7)
  line L3 (0, 19.05) -> (-19.05, 0) projected
  line L4 (0, 12.7) -> (0, 19.05)
  line L5 (0, 95.25) -> (0, 0) projected
  line L6 (0, 19.05) -> (-19.05, 0)
  point P0 (6.35, 0)
extrude "Extrusion16" cut sketch "Sketch16" against normal blind 0.635
sketch "Sketch17" plane through (6.35, 0, 6.35) normal (1, 0, 0) x (0, 0, -1)
  line L0 (15.24, 95.25) -> (19.05, 95.25)
  line L1 (25.4, 95.25) -> (6.35, 95.25) projected
  line L2 (19.05, 95.25) -> (6.35, 82.55)
  line L3 (6.35, 0) -> (6.35, 95.25) projected
  line L4 (6.35, 82.55) -> (6.35, 86.36)
  line L5 (6.35, 86.36) -> (15.24, 95.25)
  line L6 (6.35, 86.36) -> (18.9224, 86.36) construction
  dimension "d51" = 12.7
  dimension "d52" = 45
  dimension "d53" = 45
extrude "Extrusion17" add sketch "Sketch17" against normal blind 5.715 contours L0 L2 L3 L5
sketch "Sketch18" plane through (6.35, 0, 6.35) normal (1, 0, 0) x (0, 0, -1)
  line L0 (6.35, 86.36) -> (6.35, 82.55)
  line L1 (6.35, 95.25) -> (6.35, 0) projected
  line L2 (6.35, 82.55) -> (19.05, 95.25)
  line L3 (19.05, 95.25) -> (6.35, 82.55) projected
  line L4 (19.05, 95.25) -> (15.24, 95.25)
  line L5 (25.4, 95.25) -> (6.35, 95.25) projected
  line L6 (15.24, 95.25) -> (6.35, 86.36)
  line L7 (15.24, 95.25) -> (6.35, 86.36) projected
extrude "Extrusion18" cut sketch "Sketch18" against normal blind 0.635 contours L6 L4 L2 L0
sketch "Sketch19" plane through (6.35, 0, 6.35) normal (1, 0, 0) x (0, 0, -1)
  line L0 (25.4, 101.6) -> (-50.8, 101.6) projected
  line L1 (-50.8, 95.25) -> (0, 95.25) projected
  line L2 (-44.45, 101.6) -> (-41.91, 101.6)
  line L3 (-41.91, 101.6) -> (-41.91, 95.25)
  line L4 (-41.91, 95.25) -> (-44.45, 95.25)
  line L5 (-44.45, 95.25) -> (-44.45, 101.6)
  point P0 (6.35, 0)
  dimension "d58" = 6.35
  dimension "d59" = 2.54
extrude "Extrusion19" cut sketch "Sketch19" against normal blind 0.635
sketch "Sketch20" plane through (0, 101.6, -19.05) normal (0, 1, 0) x (1, 0, 0)
  line L0 (0, -25.4) -> (0, -76.2) projected
  line L1 (5.715, -67.31) -> (0, -67.31)
  line L2 (0, -67.31) -> (0, -69.85)
  line L3 (0, -69.85) -> (5.715, -69.85)
  line L4 (5.715, -69.85) -> (5.715, -67.31)
  point P0 (0, -19.05)
extrude "Extrusion20" cut sketch "Sketch20" against normal blind 0.635
sketch "Sketch21" plane through (0, 0, 0) normal (-1, 0, 0) x (0, 0, 1)
  line L0 (50.8, 100.965) -> (48.26, 100.965)
  line L1 (48.26, 100.965) -> (48.26, 95.25)
  line L2 (48.26, 95.25) -> (50.8, 95.25)
  line L3 (50.8, 95.25) -> (50.8, 100.965)
  point P0 (0, 0)
extrude "Extrusion21" cut sketch "Sketch21" against normal blind 0.635
sketch "Sketch22" plane through (0, 95.25, 6.35) normal (0, -1, 0) x (1, 0, 0)
  line L0 (0.635, 41.91) -> (5.715, 41.91)
  line L1 (5.715, 41.91) -> (5.715, 44.45)
  line L2 (5.715, 44.45) -> (0.635, 44.45)
  line L3 (0.635, 44.45) -> (0.635, 41.91)
  point P0 (0, -6.35)
extrude "Extrusion22" cut sketch "Sketch22" against normal blind 0.635
fillet "Fillet1" radius 0.635 8 edges at (3.175, 100.965, 48.26) (5.715, 98.425, 48.26) (3.175, 100.965, 50.8) (5.715, 98.425, 50.8) (0.635, 98.425, 48.26) (3.175, 95.885, 48.26) (0.635, 98.425, 50.8) (3.175, 95.885, 50.8)
fillet "Fillet2" radius 0.635 12 edges at (0.4492, 95.6992, 50.6142) (0.4492, 95.6992, 48.4458) (0.635, 95.885, 49.53) (0.4492, 101.1508, 50.6142) (0.4492, 101.1508, 48.4458) (0.635, 100.965, 49.53) (5.9008, 95.6992, 48.4458) (5.9008, 95.6992, 50.6142) (5.715, 95.885, 49.53) (5.9008, 101.1508, 50.6142) (5.9008, 101.1508, 48.4458) (5.715, 100.965, 49.53)
properties part number "Gallows 1" material "Wood (Birch)"
